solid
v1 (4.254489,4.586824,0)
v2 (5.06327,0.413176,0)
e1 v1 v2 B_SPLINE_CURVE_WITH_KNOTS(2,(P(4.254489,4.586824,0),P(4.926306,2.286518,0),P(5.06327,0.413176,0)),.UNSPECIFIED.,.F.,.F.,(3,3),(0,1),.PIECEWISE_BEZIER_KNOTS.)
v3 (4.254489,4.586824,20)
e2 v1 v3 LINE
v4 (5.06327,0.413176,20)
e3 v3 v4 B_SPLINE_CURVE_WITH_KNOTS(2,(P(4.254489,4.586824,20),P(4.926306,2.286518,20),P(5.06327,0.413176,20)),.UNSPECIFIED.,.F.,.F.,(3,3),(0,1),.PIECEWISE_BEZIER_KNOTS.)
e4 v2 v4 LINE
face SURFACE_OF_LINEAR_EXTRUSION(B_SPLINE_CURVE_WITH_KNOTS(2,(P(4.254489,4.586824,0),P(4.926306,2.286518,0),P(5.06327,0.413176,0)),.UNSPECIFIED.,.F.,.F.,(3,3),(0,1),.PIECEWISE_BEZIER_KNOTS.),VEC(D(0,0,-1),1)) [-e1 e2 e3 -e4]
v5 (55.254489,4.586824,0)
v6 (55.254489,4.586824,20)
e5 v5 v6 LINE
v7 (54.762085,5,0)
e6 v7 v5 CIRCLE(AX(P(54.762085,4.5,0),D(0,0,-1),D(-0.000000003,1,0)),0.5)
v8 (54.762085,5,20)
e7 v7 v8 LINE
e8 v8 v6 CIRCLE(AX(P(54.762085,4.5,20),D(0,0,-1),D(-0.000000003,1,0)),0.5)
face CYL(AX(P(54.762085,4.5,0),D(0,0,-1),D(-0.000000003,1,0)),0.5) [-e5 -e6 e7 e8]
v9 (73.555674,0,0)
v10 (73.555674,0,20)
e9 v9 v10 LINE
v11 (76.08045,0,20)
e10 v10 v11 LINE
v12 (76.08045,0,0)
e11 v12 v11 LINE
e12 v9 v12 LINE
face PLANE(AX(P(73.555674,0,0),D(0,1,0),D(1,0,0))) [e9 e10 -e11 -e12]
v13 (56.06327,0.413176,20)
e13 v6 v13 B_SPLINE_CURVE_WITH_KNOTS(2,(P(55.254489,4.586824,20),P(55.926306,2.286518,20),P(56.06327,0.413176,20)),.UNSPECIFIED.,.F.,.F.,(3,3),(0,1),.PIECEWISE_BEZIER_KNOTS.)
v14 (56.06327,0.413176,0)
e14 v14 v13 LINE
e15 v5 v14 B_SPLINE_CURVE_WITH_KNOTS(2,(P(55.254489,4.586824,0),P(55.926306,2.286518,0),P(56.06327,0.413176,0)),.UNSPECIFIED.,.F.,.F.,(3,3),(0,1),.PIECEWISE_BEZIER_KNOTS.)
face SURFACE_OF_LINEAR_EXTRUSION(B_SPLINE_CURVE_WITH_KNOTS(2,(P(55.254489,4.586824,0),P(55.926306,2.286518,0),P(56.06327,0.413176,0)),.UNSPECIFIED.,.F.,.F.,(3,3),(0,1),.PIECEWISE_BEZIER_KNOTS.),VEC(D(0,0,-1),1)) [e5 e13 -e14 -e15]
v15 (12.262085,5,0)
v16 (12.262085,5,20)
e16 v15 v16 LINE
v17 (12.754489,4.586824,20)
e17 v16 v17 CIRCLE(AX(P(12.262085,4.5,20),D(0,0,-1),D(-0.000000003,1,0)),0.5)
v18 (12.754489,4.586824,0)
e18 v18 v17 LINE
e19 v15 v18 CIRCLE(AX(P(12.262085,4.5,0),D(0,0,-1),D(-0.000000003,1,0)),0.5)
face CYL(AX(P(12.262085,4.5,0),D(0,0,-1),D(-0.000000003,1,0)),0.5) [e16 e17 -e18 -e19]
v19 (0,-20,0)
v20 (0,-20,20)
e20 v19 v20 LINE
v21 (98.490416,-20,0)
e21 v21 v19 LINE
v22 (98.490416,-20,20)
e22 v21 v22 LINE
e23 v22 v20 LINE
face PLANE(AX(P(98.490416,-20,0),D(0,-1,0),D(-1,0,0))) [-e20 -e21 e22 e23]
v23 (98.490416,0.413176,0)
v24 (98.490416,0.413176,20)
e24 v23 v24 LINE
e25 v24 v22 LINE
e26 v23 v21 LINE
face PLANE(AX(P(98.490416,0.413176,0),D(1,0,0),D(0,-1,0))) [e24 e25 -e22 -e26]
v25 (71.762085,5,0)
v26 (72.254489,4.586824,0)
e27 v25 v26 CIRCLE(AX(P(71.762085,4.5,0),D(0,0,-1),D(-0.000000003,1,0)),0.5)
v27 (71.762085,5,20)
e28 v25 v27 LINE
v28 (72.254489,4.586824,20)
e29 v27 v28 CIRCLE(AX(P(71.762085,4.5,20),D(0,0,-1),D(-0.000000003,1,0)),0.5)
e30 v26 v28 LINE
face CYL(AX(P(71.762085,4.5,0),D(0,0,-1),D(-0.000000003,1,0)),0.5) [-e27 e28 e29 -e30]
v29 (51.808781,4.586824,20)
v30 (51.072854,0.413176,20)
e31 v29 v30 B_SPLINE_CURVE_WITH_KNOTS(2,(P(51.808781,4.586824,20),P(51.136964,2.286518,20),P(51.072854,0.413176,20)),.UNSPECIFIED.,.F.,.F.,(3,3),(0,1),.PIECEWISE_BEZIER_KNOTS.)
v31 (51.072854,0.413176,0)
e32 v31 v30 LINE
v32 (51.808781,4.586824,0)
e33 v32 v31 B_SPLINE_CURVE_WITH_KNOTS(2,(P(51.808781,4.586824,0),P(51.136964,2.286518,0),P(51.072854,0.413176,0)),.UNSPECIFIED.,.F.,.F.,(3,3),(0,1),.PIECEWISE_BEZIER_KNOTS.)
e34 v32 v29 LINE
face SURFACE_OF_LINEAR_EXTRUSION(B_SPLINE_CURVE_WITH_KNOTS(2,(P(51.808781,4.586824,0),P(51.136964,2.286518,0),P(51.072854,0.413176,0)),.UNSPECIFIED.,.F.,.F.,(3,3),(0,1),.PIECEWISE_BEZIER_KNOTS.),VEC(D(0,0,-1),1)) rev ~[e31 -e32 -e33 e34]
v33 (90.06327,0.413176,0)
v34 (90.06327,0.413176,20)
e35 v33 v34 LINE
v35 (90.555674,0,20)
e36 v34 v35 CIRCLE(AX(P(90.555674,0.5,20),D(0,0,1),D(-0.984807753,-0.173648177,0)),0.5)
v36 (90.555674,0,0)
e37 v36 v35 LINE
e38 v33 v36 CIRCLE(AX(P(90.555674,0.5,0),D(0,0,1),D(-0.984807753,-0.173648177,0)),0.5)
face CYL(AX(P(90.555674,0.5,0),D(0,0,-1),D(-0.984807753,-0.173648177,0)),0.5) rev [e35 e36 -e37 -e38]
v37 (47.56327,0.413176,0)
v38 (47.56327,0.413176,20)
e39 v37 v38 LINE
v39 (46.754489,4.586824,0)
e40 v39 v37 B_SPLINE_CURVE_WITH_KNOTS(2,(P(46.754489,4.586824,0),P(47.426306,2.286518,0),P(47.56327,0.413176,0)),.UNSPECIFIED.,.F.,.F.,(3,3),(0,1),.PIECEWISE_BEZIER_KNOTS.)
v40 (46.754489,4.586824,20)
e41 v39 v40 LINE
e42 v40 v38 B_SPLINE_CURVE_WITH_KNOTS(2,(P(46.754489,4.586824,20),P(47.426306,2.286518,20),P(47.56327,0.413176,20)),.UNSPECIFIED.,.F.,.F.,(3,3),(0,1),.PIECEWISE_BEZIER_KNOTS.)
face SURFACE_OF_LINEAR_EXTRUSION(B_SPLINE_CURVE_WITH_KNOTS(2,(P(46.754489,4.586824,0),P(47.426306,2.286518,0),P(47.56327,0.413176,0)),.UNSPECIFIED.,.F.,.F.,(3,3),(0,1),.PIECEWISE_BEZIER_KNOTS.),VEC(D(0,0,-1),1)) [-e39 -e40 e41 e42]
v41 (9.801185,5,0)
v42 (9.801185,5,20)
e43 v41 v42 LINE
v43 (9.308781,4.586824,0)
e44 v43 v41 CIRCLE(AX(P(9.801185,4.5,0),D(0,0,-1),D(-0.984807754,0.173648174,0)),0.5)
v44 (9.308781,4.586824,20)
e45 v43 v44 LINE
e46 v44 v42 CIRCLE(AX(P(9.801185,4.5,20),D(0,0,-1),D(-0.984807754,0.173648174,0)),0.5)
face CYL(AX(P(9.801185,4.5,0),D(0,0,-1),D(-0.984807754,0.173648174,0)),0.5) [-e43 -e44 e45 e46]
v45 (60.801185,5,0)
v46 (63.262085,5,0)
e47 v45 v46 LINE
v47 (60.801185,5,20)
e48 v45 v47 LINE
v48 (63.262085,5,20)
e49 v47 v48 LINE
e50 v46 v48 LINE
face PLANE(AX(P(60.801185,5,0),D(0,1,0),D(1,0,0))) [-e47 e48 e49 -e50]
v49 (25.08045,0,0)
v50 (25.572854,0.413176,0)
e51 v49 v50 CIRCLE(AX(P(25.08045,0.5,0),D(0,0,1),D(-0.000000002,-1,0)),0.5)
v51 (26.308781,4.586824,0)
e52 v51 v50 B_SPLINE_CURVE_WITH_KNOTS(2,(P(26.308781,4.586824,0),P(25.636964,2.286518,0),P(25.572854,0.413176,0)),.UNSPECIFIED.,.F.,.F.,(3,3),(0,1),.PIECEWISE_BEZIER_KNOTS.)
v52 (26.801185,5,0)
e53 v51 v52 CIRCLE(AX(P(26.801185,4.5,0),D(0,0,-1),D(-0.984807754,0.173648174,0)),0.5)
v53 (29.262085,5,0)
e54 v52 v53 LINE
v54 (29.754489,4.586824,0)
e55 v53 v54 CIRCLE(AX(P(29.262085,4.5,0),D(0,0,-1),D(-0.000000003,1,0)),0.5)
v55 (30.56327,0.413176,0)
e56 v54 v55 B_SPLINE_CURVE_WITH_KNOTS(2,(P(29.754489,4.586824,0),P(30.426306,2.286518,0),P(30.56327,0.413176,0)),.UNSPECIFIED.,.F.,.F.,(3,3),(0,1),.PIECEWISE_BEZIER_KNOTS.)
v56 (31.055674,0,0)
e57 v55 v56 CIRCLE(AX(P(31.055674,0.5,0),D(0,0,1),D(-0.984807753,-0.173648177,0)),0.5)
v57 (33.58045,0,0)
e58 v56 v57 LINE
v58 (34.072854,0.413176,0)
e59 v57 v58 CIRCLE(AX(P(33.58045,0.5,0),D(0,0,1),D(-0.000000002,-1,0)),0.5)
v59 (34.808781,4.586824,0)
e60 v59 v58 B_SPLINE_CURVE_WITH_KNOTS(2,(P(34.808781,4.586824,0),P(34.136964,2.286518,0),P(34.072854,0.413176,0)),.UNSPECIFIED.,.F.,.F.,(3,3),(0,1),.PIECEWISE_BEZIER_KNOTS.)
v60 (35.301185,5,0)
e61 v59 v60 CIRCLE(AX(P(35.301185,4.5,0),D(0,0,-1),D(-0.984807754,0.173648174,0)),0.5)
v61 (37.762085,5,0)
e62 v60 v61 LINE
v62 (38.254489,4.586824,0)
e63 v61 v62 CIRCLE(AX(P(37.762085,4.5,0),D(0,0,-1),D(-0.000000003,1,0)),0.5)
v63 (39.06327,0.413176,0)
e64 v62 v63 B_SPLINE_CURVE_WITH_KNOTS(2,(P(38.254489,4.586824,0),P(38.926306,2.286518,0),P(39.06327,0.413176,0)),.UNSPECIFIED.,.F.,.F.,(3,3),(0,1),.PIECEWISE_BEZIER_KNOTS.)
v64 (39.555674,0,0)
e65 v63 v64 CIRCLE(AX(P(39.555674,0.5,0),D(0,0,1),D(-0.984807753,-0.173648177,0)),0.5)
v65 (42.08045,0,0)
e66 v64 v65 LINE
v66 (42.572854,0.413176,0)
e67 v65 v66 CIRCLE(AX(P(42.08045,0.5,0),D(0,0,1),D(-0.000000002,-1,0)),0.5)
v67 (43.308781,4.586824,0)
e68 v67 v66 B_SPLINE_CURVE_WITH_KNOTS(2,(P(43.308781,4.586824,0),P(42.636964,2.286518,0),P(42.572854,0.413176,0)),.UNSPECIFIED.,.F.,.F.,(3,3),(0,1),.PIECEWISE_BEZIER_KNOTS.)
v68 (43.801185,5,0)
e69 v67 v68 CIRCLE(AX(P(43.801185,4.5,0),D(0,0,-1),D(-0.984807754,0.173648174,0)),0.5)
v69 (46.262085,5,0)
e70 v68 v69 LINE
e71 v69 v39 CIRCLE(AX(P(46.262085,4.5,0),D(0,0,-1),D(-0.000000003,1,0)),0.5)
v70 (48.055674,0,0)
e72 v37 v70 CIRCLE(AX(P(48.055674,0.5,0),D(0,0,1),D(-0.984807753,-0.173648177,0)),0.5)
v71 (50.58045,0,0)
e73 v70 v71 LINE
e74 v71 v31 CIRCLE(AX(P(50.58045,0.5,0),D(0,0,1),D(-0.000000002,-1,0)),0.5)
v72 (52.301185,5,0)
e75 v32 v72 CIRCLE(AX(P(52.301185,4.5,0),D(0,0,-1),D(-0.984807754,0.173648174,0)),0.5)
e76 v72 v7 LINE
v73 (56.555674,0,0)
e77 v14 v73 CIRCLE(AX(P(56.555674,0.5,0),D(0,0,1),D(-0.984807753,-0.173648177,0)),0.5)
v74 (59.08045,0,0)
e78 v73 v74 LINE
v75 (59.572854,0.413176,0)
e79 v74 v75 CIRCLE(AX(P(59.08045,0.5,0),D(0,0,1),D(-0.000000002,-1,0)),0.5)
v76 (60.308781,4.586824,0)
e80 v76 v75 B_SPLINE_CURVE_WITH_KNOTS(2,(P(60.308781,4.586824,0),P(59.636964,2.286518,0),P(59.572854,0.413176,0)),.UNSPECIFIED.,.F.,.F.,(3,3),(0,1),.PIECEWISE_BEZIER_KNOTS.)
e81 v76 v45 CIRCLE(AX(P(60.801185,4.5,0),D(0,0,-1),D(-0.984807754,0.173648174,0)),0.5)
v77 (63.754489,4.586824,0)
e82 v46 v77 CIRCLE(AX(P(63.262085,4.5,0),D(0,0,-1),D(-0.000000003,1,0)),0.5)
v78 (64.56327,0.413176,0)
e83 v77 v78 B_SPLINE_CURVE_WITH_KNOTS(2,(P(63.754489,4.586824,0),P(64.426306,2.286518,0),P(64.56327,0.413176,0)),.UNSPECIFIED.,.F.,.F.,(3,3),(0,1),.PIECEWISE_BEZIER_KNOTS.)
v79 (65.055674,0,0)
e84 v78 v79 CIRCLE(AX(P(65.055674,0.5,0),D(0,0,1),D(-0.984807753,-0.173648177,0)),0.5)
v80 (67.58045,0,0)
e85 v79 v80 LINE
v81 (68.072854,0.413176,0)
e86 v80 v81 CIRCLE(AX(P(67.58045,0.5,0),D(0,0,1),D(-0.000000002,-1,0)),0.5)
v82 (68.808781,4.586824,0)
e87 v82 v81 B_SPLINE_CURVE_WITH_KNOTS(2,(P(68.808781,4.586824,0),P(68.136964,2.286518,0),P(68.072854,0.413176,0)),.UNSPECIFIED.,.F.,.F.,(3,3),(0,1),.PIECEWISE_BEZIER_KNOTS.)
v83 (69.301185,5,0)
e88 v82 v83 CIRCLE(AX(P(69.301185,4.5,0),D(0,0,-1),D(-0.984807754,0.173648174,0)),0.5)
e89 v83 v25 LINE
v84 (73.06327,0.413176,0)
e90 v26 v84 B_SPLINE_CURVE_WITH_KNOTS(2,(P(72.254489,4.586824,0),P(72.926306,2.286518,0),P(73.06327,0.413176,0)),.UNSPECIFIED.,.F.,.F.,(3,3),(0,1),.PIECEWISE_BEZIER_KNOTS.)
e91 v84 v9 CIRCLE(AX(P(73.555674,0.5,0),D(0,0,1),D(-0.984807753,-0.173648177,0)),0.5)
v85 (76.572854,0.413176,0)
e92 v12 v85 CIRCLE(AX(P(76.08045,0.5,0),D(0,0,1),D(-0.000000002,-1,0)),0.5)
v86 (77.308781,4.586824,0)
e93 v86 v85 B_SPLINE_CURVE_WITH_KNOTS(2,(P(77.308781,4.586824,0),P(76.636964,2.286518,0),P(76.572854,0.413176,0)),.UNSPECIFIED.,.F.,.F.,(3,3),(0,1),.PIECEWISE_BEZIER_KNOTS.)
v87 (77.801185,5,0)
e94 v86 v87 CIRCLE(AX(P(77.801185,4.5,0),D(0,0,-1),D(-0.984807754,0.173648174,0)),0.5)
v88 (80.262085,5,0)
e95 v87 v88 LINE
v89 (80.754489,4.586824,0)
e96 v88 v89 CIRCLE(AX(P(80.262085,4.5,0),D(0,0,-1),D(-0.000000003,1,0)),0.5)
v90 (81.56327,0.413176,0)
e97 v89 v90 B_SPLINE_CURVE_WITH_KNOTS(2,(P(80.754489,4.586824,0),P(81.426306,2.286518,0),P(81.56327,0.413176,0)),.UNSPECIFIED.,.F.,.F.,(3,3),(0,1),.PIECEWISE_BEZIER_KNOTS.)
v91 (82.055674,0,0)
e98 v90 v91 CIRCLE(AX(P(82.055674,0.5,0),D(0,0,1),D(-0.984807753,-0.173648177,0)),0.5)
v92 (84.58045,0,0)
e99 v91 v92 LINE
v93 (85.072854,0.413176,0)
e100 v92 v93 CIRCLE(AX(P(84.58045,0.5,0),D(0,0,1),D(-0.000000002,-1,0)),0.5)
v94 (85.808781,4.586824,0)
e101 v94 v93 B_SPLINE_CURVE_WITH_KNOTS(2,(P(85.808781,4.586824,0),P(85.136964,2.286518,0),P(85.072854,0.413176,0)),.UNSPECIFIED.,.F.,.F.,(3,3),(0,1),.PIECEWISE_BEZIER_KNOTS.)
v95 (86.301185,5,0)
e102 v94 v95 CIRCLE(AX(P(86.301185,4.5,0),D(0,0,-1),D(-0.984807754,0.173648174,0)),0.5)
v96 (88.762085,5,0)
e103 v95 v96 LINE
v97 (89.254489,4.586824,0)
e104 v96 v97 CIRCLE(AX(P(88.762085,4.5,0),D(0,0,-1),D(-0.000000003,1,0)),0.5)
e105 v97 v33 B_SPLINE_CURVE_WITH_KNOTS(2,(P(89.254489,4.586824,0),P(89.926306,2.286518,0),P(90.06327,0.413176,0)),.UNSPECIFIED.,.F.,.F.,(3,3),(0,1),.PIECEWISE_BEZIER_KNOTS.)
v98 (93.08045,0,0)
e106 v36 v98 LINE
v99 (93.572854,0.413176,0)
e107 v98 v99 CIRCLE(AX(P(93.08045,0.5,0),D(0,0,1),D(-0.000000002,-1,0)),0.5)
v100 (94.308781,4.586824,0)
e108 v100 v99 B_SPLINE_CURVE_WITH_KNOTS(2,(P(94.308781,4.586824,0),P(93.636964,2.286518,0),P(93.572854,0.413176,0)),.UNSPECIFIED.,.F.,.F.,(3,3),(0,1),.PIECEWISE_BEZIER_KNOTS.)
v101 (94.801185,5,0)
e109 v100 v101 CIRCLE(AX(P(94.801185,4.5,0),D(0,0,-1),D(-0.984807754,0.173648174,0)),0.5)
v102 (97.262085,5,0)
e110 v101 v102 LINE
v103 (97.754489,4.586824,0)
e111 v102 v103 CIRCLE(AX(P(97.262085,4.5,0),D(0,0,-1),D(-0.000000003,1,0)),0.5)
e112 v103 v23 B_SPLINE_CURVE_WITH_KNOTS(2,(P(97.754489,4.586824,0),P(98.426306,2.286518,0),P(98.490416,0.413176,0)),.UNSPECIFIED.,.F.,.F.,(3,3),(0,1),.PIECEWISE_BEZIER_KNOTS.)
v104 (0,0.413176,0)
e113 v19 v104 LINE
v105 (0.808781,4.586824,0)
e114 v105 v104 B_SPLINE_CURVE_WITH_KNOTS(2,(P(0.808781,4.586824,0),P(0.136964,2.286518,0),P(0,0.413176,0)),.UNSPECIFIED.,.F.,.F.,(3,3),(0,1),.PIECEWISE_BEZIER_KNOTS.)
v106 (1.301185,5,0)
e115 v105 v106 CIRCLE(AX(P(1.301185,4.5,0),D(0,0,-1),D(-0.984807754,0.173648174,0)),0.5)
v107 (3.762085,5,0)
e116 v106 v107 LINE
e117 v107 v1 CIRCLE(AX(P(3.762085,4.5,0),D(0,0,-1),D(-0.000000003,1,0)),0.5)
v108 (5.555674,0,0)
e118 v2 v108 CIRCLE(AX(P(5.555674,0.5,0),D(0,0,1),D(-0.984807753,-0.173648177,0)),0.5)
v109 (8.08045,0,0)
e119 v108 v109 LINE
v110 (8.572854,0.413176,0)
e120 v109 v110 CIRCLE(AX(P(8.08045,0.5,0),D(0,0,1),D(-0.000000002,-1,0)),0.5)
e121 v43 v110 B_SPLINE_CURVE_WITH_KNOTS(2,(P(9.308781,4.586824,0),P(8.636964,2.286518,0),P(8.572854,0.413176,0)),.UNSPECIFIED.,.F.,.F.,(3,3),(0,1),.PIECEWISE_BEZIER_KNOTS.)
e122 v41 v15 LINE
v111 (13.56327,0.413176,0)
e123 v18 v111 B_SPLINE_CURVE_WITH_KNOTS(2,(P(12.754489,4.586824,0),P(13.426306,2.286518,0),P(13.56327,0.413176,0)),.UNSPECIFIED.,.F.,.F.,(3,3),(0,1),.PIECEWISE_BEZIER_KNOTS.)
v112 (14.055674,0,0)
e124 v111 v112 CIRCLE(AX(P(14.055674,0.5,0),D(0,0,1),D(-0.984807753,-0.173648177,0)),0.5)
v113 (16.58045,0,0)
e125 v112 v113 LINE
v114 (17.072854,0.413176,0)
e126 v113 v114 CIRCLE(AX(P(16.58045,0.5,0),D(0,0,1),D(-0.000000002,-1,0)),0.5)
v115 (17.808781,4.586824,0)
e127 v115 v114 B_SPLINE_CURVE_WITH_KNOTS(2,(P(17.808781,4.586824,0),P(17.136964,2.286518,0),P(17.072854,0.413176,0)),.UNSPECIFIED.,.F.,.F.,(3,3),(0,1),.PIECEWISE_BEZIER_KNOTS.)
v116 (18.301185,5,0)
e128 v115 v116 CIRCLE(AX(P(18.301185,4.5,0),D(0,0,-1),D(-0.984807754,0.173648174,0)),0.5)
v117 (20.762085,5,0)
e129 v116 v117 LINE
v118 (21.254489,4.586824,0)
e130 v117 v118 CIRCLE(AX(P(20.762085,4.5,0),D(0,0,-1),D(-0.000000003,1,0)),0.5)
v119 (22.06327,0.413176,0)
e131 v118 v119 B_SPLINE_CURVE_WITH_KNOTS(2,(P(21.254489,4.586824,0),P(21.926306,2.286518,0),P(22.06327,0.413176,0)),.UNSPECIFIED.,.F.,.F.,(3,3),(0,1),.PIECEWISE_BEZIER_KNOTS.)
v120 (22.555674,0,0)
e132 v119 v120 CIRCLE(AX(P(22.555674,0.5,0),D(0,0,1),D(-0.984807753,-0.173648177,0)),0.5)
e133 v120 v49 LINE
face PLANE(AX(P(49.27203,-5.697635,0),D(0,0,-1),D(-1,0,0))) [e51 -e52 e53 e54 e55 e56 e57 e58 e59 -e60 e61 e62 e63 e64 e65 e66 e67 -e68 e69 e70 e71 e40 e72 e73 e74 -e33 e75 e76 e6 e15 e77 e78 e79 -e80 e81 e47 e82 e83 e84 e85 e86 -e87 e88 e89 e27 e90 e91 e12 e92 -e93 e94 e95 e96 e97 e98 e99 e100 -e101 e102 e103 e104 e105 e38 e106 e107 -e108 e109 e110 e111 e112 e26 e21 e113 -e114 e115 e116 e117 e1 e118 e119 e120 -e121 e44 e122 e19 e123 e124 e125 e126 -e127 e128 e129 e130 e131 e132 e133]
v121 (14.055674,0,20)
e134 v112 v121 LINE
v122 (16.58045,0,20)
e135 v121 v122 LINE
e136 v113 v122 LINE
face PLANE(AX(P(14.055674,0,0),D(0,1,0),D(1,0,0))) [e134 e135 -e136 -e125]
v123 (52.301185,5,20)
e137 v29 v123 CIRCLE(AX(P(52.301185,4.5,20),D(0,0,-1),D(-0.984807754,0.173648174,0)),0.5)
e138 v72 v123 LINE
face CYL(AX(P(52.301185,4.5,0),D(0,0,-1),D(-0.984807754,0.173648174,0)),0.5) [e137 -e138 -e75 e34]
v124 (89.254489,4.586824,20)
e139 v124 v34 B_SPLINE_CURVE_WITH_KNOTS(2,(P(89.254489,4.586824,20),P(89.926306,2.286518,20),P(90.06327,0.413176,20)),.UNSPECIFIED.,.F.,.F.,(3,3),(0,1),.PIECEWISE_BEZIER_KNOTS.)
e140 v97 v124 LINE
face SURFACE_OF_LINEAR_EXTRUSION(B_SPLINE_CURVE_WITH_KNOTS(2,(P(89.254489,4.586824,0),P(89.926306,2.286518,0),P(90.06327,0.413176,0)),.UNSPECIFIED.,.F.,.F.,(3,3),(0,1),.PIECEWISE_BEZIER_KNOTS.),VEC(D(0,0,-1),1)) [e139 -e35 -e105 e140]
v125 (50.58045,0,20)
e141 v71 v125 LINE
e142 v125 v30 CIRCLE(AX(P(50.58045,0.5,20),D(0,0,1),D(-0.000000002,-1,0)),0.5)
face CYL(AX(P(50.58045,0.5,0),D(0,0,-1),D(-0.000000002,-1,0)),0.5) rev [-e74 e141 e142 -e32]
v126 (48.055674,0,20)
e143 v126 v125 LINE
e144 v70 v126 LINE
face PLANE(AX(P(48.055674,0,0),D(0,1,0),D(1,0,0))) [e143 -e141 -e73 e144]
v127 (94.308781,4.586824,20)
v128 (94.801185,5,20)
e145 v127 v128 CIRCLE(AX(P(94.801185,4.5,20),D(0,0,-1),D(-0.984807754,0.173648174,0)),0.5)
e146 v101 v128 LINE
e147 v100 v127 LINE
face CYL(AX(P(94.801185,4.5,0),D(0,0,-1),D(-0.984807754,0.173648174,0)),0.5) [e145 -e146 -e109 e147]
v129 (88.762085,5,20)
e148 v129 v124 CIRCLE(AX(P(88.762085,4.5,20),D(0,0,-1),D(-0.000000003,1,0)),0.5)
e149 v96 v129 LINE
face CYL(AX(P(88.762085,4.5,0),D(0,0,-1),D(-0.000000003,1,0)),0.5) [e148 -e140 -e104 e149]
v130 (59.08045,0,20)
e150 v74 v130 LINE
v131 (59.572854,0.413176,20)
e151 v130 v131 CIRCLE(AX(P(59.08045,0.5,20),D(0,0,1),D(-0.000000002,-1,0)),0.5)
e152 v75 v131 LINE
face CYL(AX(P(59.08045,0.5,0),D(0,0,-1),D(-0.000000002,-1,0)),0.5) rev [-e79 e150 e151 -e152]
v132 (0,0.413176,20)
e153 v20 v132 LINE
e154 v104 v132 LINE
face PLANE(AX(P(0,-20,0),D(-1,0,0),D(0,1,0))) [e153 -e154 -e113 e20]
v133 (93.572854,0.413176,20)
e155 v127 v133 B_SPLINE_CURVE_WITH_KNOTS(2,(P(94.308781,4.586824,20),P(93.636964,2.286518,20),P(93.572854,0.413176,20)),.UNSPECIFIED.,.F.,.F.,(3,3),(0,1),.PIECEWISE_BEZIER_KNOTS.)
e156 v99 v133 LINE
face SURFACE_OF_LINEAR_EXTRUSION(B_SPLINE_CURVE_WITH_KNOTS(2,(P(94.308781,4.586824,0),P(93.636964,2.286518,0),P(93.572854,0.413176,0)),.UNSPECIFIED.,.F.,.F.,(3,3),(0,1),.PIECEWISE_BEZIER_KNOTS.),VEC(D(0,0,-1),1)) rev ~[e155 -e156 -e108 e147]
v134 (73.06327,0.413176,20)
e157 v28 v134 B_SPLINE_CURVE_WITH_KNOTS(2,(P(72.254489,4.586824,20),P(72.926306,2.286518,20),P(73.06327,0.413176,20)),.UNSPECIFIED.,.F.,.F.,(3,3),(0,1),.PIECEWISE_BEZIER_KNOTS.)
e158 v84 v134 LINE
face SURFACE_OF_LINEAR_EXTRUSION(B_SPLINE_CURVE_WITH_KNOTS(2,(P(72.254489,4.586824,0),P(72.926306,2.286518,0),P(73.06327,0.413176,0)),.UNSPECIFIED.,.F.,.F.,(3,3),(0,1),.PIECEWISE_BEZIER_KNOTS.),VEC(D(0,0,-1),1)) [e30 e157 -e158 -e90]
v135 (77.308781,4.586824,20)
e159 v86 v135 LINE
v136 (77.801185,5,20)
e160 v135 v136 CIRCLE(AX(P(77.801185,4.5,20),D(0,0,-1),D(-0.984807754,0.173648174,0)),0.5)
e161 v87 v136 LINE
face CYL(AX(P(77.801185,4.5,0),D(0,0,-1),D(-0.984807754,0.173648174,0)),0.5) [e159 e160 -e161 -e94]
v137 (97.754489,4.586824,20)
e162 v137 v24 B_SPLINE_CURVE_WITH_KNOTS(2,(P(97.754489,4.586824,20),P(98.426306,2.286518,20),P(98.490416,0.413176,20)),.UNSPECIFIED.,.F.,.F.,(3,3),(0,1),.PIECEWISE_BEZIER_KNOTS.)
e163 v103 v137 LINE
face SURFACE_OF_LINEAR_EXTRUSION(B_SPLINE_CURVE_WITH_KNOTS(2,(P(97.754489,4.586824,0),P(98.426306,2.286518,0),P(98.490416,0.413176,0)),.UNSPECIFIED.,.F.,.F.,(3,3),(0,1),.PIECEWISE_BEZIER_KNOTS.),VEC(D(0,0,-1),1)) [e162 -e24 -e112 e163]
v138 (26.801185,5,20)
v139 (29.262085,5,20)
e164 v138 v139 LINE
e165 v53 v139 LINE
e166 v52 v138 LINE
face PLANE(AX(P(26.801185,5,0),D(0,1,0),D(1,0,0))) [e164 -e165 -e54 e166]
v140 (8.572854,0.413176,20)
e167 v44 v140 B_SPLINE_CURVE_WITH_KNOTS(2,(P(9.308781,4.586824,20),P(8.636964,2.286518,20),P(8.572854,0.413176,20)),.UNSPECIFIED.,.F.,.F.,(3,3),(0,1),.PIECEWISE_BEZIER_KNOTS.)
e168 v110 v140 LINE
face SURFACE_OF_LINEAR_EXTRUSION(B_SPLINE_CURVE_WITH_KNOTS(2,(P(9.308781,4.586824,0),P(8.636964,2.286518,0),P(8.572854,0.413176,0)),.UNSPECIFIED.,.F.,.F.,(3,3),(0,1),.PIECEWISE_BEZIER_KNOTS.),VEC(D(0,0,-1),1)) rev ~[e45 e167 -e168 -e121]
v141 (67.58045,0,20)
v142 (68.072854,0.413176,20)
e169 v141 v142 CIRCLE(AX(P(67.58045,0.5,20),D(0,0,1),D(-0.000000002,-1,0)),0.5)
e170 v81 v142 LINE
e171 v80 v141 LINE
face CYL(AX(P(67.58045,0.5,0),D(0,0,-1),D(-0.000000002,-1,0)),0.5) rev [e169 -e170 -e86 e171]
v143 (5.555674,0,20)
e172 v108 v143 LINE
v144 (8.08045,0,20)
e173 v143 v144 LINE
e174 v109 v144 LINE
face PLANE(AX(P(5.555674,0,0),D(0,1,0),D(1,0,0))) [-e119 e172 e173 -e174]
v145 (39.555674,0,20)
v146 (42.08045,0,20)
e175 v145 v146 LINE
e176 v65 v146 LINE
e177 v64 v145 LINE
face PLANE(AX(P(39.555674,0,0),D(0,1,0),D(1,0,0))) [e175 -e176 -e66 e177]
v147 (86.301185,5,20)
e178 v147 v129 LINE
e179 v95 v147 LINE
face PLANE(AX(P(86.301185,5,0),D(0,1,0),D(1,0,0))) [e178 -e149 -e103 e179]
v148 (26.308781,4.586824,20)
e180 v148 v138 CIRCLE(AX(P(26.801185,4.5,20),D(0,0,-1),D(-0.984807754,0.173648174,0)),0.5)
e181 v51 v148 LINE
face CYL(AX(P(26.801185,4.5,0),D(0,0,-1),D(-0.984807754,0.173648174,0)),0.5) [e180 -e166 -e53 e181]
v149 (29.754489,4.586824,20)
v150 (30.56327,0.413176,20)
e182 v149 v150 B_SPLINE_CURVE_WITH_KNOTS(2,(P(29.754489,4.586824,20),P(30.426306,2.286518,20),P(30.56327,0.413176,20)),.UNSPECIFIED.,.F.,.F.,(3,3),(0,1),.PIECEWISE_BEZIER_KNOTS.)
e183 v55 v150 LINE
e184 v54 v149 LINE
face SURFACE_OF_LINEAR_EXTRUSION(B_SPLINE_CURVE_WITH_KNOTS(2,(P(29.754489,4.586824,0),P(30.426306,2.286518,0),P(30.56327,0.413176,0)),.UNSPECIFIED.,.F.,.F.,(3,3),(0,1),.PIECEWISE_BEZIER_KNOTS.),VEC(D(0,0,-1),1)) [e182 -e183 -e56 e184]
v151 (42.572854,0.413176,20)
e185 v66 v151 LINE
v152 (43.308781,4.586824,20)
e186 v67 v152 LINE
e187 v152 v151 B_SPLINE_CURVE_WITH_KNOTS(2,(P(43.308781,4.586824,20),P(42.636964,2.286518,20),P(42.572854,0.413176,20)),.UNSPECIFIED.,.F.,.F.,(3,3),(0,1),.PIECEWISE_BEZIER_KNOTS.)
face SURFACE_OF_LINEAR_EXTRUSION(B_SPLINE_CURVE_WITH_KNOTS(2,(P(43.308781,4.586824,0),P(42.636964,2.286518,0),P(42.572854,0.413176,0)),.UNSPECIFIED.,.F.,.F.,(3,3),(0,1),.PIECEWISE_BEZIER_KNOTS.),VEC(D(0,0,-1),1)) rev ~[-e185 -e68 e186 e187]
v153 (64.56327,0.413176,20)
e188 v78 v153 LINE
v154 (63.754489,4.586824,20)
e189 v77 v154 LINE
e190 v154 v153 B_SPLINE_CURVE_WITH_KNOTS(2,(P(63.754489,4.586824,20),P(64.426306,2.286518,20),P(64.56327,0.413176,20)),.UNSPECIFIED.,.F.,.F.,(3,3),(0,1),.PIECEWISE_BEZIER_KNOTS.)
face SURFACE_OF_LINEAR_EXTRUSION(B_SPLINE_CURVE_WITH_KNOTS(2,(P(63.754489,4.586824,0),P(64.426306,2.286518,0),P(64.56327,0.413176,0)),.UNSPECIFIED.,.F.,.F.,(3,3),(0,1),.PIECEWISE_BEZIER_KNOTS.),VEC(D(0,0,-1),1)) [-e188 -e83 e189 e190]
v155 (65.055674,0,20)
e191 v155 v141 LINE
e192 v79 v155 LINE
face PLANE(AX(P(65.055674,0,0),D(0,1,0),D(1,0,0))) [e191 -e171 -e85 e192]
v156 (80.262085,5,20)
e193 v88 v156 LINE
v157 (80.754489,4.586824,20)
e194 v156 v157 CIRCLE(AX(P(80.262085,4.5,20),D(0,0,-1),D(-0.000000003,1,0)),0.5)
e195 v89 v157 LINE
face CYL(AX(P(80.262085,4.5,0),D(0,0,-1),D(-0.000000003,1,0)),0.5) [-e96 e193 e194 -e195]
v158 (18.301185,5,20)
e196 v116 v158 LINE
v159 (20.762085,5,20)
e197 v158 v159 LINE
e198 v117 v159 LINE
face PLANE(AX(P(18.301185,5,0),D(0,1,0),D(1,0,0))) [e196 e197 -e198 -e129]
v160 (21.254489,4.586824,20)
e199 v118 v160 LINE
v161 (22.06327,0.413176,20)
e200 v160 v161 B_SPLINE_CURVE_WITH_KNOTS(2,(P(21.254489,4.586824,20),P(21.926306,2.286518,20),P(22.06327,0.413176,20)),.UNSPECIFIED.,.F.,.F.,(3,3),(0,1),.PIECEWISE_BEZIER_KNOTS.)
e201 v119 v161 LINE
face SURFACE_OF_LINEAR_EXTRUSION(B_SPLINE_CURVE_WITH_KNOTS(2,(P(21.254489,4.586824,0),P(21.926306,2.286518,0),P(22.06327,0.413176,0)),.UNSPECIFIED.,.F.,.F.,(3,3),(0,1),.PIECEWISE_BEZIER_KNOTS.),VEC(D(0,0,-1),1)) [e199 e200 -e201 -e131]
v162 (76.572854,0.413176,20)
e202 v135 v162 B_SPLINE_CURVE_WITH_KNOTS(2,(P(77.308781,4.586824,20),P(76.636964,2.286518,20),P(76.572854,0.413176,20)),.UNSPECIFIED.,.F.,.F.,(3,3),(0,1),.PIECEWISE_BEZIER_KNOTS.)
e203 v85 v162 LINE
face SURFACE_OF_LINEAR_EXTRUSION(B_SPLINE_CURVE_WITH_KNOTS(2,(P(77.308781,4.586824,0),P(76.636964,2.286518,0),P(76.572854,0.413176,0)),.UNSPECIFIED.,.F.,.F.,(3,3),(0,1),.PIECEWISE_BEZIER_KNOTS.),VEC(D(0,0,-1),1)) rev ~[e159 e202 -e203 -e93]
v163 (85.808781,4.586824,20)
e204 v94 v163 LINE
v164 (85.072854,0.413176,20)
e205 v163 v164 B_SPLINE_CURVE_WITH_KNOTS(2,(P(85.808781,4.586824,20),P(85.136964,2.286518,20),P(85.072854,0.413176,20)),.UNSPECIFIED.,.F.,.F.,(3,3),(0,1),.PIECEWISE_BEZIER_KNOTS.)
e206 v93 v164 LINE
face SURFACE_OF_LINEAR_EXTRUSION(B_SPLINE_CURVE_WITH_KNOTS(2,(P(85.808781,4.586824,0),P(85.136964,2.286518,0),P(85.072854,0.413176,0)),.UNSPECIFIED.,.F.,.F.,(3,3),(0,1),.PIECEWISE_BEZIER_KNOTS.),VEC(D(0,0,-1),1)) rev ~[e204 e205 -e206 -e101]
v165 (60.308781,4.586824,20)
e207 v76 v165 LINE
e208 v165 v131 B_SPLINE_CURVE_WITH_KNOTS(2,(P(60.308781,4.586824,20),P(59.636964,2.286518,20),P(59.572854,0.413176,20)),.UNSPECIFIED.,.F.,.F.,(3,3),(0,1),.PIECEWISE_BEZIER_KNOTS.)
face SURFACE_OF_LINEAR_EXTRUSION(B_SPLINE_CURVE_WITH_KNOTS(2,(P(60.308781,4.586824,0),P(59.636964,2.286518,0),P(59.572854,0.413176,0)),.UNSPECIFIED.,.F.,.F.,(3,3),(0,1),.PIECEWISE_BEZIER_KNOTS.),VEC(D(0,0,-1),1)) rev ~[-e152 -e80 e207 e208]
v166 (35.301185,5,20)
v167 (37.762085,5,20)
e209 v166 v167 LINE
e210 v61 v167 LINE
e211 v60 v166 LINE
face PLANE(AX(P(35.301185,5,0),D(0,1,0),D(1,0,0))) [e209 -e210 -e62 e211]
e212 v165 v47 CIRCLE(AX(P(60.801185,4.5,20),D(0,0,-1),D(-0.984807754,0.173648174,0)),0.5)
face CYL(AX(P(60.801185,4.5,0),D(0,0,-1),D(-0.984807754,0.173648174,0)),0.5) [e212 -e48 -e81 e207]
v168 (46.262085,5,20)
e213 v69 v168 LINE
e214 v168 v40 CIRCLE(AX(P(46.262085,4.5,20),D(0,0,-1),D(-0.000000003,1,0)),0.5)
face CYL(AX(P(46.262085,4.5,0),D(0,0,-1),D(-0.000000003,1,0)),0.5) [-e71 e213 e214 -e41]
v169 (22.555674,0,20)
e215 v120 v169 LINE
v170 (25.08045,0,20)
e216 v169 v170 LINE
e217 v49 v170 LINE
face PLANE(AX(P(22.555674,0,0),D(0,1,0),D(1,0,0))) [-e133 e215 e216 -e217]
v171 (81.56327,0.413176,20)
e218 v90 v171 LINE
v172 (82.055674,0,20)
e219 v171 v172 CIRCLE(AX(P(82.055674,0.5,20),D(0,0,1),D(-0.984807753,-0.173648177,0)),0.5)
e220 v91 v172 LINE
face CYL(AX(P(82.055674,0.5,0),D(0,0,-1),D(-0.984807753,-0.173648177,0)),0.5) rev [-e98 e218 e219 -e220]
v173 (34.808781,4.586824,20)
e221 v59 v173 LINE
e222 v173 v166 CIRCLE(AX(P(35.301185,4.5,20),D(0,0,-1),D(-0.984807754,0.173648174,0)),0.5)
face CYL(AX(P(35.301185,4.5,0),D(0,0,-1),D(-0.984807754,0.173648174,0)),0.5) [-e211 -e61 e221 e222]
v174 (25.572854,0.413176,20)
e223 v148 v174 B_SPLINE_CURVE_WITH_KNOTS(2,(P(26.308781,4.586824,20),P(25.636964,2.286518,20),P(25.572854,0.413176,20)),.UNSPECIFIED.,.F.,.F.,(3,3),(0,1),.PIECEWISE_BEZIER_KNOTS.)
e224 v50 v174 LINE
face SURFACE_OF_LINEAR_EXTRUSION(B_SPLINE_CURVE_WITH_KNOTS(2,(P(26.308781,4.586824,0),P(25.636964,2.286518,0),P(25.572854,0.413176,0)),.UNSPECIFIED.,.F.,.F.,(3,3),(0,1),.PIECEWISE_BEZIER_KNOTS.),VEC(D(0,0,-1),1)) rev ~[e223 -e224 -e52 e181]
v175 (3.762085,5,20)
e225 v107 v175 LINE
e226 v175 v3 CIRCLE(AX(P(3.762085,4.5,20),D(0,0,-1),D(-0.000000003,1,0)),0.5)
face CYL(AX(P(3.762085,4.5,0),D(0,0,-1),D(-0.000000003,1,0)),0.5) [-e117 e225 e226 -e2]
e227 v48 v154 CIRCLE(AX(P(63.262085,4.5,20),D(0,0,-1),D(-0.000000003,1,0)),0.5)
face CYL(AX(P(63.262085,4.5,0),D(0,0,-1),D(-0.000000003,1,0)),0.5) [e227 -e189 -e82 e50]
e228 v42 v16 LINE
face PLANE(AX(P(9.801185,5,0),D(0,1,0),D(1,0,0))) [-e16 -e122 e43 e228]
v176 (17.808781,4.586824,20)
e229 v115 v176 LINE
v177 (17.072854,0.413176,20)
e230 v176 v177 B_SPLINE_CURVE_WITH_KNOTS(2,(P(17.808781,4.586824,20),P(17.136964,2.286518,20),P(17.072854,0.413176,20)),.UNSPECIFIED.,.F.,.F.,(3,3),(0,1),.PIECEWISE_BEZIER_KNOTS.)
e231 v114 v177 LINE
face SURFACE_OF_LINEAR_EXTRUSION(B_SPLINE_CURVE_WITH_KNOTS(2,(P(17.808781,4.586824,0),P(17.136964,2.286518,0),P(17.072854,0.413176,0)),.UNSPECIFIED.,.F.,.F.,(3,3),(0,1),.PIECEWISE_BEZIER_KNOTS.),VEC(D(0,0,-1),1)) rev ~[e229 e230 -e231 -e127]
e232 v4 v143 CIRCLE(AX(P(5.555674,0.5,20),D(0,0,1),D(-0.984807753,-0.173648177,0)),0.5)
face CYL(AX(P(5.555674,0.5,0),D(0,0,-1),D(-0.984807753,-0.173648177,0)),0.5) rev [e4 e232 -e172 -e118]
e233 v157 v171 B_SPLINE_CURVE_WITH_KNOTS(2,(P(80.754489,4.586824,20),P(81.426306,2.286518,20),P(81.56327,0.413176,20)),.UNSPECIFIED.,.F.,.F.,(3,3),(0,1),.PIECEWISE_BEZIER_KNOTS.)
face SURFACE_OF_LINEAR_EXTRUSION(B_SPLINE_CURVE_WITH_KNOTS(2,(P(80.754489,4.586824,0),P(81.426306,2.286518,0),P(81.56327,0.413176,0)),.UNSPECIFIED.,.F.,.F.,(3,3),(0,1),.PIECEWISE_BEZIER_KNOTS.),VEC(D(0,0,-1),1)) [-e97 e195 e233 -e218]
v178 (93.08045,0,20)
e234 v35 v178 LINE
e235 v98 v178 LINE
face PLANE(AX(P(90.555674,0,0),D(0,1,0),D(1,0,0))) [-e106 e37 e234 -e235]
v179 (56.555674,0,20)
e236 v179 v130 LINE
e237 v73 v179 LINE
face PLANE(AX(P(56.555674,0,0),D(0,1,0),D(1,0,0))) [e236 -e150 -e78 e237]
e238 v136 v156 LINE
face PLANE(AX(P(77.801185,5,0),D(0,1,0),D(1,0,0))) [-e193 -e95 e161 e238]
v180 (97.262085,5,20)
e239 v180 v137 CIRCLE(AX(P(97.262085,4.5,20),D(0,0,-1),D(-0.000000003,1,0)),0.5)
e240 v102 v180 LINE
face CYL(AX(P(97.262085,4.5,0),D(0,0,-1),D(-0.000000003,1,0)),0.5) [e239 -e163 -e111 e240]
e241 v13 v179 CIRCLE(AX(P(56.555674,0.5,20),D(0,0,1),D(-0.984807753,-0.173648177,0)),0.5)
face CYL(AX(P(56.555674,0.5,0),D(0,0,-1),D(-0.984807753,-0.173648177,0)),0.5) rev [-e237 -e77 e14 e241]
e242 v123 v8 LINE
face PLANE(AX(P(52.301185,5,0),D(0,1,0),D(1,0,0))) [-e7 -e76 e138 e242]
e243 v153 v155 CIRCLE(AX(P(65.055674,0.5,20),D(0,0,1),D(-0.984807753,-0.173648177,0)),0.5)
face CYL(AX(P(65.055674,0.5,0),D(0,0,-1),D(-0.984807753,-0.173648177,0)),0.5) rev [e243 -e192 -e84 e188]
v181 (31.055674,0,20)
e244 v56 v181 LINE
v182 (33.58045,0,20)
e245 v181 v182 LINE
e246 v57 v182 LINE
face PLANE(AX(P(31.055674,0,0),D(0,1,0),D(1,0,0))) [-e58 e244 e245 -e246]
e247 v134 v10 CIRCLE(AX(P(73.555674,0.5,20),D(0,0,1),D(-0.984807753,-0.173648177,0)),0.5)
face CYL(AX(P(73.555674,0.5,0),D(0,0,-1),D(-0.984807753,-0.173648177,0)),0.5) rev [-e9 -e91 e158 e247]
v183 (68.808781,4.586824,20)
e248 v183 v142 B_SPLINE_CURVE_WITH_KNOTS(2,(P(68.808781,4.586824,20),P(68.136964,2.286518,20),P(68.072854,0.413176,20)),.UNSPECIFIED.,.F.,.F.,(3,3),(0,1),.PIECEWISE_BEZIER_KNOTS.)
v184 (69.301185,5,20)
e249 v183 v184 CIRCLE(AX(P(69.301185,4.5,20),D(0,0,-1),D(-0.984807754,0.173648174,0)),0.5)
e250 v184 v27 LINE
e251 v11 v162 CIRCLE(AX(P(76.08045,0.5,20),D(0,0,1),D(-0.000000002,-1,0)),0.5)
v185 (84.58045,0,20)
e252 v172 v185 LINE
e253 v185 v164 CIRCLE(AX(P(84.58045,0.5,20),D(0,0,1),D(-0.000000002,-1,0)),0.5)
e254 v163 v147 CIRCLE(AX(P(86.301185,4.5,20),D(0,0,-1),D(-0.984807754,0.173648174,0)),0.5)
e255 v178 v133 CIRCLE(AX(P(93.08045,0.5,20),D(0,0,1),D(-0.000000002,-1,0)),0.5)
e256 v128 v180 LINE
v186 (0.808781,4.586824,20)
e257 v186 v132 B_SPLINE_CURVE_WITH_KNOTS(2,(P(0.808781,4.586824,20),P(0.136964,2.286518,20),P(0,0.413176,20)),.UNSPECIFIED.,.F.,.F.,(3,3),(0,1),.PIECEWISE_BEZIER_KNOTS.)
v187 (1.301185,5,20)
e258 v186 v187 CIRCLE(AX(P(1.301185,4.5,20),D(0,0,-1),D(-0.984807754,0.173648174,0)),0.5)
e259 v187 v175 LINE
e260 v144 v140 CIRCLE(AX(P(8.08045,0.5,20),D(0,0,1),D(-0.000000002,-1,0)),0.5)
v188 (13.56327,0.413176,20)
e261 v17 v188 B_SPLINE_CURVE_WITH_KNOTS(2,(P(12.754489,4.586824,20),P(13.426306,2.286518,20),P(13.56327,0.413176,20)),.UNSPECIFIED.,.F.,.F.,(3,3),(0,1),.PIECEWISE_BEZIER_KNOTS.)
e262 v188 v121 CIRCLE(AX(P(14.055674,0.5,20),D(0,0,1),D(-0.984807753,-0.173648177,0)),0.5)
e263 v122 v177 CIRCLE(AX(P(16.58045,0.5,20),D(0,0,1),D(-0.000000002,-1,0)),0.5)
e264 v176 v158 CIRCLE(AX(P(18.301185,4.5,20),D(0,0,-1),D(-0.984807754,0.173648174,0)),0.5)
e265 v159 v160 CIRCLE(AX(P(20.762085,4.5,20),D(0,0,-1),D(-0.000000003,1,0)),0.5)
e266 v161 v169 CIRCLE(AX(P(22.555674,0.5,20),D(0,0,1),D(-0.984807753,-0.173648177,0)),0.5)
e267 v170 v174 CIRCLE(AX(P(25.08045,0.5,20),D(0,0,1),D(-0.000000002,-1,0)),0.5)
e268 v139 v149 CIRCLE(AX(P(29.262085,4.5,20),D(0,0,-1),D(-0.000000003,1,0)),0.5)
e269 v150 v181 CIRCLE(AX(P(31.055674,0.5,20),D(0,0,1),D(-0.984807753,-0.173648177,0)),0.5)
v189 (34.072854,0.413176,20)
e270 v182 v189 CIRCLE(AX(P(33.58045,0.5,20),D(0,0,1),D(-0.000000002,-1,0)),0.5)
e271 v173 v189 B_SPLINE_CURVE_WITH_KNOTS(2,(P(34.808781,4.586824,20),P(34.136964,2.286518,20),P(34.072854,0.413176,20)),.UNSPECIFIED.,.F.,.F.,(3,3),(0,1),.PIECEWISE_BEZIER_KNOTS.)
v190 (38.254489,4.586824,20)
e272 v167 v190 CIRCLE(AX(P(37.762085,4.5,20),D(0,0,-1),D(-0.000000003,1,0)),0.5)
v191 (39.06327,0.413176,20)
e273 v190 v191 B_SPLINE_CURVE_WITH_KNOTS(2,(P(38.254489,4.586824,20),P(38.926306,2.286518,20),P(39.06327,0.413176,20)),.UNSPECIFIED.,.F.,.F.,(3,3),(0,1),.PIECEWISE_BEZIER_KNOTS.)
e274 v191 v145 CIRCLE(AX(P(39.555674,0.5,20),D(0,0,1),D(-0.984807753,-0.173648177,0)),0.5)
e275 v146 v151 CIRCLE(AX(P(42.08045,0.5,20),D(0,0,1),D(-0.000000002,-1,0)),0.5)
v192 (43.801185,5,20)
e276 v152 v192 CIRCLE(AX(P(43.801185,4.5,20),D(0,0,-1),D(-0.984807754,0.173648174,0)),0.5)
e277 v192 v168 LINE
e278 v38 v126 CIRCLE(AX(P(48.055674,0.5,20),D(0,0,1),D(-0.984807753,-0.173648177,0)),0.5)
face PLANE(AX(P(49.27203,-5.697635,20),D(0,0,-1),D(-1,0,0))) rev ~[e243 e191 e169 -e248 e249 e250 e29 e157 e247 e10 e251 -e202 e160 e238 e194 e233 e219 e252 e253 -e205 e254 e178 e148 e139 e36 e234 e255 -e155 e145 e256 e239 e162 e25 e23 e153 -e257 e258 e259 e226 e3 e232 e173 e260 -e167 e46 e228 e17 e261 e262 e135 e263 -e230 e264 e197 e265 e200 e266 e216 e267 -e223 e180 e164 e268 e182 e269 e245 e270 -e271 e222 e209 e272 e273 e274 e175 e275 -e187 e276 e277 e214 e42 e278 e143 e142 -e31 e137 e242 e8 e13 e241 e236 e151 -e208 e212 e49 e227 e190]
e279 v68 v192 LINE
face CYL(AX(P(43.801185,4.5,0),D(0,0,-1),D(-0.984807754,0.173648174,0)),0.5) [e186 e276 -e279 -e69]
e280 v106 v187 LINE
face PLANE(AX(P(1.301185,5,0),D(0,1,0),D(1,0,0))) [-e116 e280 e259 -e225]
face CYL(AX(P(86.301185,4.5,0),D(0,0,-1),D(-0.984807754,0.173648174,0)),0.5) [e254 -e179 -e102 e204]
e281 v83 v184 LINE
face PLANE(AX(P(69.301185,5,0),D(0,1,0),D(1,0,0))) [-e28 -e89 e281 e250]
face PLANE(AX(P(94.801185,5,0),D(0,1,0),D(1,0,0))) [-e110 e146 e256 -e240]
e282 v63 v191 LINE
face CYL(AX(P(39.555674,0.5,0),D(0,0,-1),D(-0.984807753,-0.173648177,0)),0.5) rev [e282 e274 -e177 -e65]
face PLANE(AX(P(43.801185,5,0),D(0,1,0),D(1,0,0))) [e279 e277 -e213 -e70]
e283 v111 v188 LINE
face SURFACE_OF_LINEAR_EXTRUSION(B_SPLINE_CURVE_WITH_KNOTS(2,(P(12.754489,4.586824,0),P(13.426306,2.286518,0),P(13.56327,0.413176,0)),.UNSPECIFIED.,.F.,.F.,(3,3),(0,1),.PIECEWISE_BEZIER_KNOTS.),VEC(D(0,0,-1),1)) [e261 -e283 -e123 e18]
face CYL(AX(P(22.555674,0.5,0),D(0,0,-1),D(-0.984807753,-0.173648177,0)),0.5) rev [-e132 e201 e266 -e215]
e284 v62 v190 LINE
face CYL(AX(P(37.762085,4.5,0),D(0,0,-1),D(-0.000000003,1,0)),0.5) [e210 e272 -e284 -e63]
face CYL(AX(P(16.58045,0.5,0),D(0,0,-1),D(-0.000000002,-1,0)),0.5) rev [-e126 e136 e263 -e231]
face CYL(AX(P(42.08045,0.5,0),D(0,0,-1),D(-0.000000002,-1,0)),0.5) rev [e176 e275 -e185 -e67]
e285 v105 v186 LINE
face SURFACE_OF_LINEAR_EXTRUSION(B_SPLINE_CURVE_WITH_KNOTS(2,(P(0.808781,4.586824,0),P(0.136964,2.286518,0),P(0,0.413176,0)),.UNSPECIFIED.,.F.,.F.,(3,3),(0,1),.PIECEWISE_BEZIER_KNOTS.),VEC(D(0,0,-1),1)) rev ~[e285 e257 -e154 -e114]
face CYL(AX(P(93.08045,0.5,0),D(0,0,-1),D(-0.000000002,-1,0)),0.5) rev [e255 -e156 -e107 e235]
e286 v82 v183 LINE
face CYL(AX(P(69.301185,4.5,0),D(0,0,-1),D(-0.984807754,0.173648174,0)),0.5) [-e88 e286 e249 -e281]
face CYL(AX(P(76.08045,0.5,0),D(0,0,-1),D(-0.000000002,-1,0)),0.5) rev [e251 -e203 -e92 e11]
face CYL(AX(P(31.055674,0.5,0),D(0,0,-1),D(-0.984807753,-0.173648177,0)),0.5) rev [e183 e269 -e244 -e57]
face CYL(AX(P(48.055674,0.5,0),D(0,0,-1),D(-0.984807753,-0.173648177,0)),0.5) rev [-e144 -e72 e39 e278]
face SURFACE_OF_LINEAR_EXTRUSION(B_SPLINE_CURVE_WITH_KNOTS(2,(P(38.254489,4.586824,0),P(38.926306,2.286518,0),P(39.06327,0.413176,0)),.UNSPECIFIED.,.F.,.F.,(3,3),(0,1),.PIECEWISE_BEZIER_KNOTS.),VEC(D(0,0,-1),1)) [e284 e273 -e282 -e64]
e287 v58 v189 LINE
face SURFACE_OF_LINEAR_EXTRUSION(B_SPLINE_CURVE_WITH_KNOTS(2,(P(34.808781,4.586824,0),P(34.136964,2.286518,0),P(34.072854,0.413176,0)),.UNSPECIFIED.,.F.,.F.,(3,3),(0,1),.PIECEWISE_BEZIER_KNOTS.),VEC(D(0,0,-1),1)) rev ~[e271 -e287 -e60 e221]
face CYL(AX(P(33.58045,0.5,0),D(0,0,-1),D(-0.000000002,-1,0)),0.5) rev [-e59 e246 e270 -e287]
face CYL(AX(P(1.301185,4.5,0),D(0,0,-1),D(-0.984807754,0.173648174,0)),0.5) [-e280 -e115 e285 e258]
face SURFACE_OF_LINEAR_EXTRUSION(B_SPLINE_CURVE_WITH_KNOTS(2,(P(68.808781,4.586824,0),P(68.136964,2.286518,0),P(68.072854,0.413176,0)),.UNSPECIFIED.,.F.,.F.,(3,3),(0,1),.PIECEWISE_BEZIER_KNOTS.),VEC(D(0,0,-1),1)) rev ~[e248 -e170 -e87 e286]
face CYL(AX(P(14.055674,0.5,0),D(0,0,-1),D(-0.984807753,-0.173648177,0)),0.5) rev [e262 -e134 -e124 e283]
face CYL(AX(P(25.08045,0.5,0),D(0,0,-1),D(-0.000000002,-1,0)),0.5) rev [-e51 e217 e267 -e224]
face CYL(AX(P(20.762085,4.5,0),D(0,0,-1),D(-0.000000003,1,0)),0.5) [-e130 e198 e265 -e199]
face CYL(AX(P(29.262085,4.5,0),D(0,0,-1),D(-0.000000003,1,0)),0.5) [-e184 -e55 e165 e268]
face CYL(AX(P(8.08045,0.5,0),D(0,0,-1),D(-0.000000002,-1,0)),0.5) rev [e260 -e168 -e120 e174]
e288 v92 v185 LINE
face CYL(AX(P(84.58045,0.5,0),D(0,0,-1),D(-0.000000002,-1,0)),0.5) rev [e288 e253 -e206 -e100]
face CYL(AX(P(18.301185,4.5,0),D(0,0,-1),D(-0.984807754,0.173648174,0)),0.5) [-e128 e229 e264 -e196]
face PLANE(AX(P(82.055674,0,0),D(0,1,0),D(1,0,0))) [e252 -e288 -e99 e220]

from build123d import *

# Parameters (mm, degrees)
BOSS_EXTRUDE1_DEPTH = 20


with BuildPart() as part:
    # Sketch2 → Boss-Extrude1 (new body)
    with BuildSketch(Plane.XY):
        with BuildLine():
            Line((5.555673684, 0), (8.080450184, 0))
            ThreePointArc((8.080450184, 0), (8.401843989, 0.116977778), (8.572854061, 0.413175911))
            add(Edge.make_bspline(
                [(9.308780843, 4.586824089), (8.63696399, 2.286518146), (8.572854061, 0.413175911)],
                knots=[0, 0, 0, 1, 1, 1], degree=2))
            ThreePointArc((9.308780843, 4.586824089), (9.479790914, 4.883022222), (9.801184719, 5))
            Line((9.801184719, 5), (12.262085088, 5))
            ThreePointArc((12.262085088, 5), (12.583478893, 4.883022222), (12.754488964, 4.586824089))
            add(Edge.make_bspline(
                [(12.754488964, 4.586824089), (13.426305818, 2.286518146), (13.563269807, 0.413175911)],
                knots=[0, 0, 0, 1, 1, 1], degree=2))
            ThreePointArc((13.563269807, 0.413175911), (13.734279879, 0.116977778), (14.055673684, 0))
            Line((14.055673684, 0), (16.580450184, 0))
            ThreePointArc((16.580450184, 0), (16.901843989, 0.116977778), (17.072854061, 0.413175911))
            add(Edge.make_bspline(
                [(17.808780843, 4.586824089), (17.13696399, 2.286518146), (17.072854061, 0.413175911)],
                knots=[0, 0, 0, 1, 1, 1], degree=2))
            ThreePointArc((17.808780843, 4.586824089), (17.979790914, 4.883022222), (18.301184719, 5))
            Line((18.301184719, 5), (20.762085088, 5))
            ThreePointArc((20.762085088, 5), (21.083478893, 4.883022222), (21.254488964, 4.586824089))
            add(Edge.make_bspline(
                [(21.254488964, 4.586824089), (21.926305818, 2.286518146), (22.063269807, 0.413175911)],
                knots=[0, 0, 0, 1, 1, 1], degree=2))
            ThreePointArc((22.063269807, 0.413175911), (22.234279879, 0.116977778), (22.555673684, 0))
            Line((22.555673684, 0), (25.080450184, 0))
            ThreePointArc((25.080450184, 0), (25.401843989, 0.116977778), (25.572854061, 0.413175911))
            add(Edge.make_bspline(
                [(26.308780843, 4.586824089), (25.63696399, 2.286518146), (25.572854061, 0.413175911)],
                knots=[0, 0, 0, 1, 1, 1], degree=2))
            ThreePointArc((26.308780843, 4.586824089), (26.479790914, 4.883022222), (26.801184719, 5))
            Line((26.801184719, 5), (29.262085088, 5))
            ThreePointArc((29.262085088, 5), (29.583478893, 4.883022222), (29.754488964, 4.586824089))
            add(Edge.make_bspline(
                [(29.754488964, 4.586824089), (30.426305818, 2.286518146), (30.563269807, 0.413175911)],
                knots=[0, 0, 0, 1, 1, 1], degree=2))
            ThreePointArc((30.563269807, 0.413175911), (30.734279879, 0.116977778), (31.055673684, 0))
            Line((31.055673684, 0), (33.580450184, 0))
            ThreePointArc((33.580450184, 0), (33.901843989, 0.116977778), (34.072854061, 0.413175911))
            add(Edge.make_bspline(
                [(34.808780843, 4.586824089), (34.13696399, 2.286518146), (34.072854061, 0.413175911)],
                knots=[0, 0, 0, 1, 1, 1], degree=2))
            ThreePointArc((34.808780843, 4.586824089), (34.979790914, 4.883022222), (35.301184719, 5))
            Line((35.301184719, 5), (37.762085088, 5))
            ThreePointArc((37.762085088, 5), (38.083478893, 4.883022222), (38.254488964, 4.586824089))
            add(Edge.make_bspline(
                [(38.254488964, 4.586824089), (38.926305818, 2.286518146), (39.063269807, 0.413175911)],
                knots=[0, 0, 0, 1, 1, 1], degree=2))
            ThreePointArc((39.063269807, 0.413175911), (39.234279879, 0.116977778), (39.555673684, 0))
            Line((39.555673684, 0), (42.080450184, 0))
            ThreePointArc((42.080450184, 0), (42.401843989, 0.116977778), (42.572854061, 0.413175911))
            add(Edge.make_bspline(
                [(43.308780843, 4.586824089), (42.63696399, 2.286518146), (42.572854061, 0.413175911)],
                knots=[0, 0, 0, 1, 1, 1], degree=2))
            ThreePointArc((43.308780843, 4.586824089), (43.479790914, 4.883022222), (43.801184719, 5))
            Line((43.801184719, 5), (46.262085088, 5))
            ThreePointArc((46.262085088, 5), (46.583478893, 4.883022222), (46.754488964, 4.586824089))
            add(Edge.make_bspline(
                [(46.754488964, 4.586824089), (47.426305818, 2.286518146), (47.563269807, 0.413175911)],
                knots=[0, 0, 0, 1, 1, 1], degree=2))
            ThreePointArc((47.563269807, 0.413175911), (47.734279879, 0.116977778), (48.055673684, 0))
            Line((48.055673684, 0), (50.580450184, 0))
            ThreePointArc((50.580450184, 0), (50.901843989, 0.116977778), (51.072854061, 0.413175911))
            add(Edge.make_bspline(
                [(51.808780843, 4.586824089), (51.13696399, 2.286518146), (51.072854061, 0.413175911)],
                knots=[0, 0, 0, 1, 1, 1], degree=2))
            ThreePointArc((51.808780843, 4.586824089), (51.979790914, 4.883022222), (52.301184719, 5))
            Line((52.301184719, 5), (54.762085088, 5))
            ThreePointArc((54.762085088, 5), (55.083478893, 4.883022222), (55.254488964, 4.586824089))
            add(Edge.make_bspline(
                [(55.254488964, 4.586824089), (55.926305818, 2.286518146), (56.063269807, 0.413175911)],
                knots=[0, 0, 0, 1, 1, 1], degree=2))
            ThreePointArc((56.063269807, 0.413175911), (56.234279879, 0.116977778), (56.555673684, 0))
            Line((56.555673684, 0), (59.080450184, 0))
            ThreePointArc((59.080450184, 0), (59.401843989, 0.116977778), (59.572854061, 0.413175911))
            add(Edge.make_bspline(
                [(60.308780843, 4.586824089), (59.63696399, 2.286518146), (59.572854061, 0.413175911)],
                knots=[0, 0, 0, 1, 1, 1], degree=2))
            ThreePointArc((60.308780843, 4.586824089), (60.479790914, 4.883022222), (60.801184719, 5))
            Line((60.801184719, 5), (63.262085088, 5))
            ThreePointArc((63.262085088, 5), (63.583478893, 4.883022222), (63.754488964, 4.586824089))
            add(Edge.make_bspline(
                [(63.754488964, 4.586824089), (64.426305818, 2.286518146), (64.563269807, 0.413175911)],
                knots=[0, 0, 0, 1, 1, 1], degree=2))
            ThreePointArc((64.563269807, 0.413175911), (64.734279879, 0.116977778), (65.055673684, 0))
            Line((65.055673684, 0), (67.580450184, 0))
            ThreePointArc((67.580450184, 0), (67.901843989, 0.116977778), (68.072854061, 0.413175911))
            add(Edge.make_bspline(
                [(68.808780843, 4.586824089), (68.13696399, 2.286518146), (68.072854061, 0.413175911)],
                knots=[0, 0, 0, 1, 1, 1], degree=2))
            ThreePointArc((68.808780843, 4.586824089), (68.979790914, 4.883022222), (69.301184719, 5))
            Line((69.301184719, 5), (71.762085088, 5))
            ThreePointArc((71.762085088, 5), (72.083478893, 4.883022222), (72.254488964, 4.586824089))
            add(Edge.make_bspline(
                [(72.254488964, 4.586824089), (72.926305818, 2.286518146), (73.063269807, 0.413175911)],
                knots=[0, 0, 0, 1, 1, 1], degree=2))
            ThreePointArc((73.063269807, 0.413175911), (73.234279879, 0.116977778), (73.555673684, 0))
            Line((73.555673684, 0), (76.080450184, 0))
            ThreePointArc((76.080450184, 0), (76.401843989, 0.116977778), (76.572854061, 0.413175911))
            add(Edge.make_bspline(
                [(77.308780843, 4.586824089), (76.63696399, 2.286518146), (76.572854061, 0.413175911)],
                knots=[0, 0, 0, 1, 1, 1], degree=2))
            ThreePointArc((77.308780843, 4.586824089), (77.479790914, 4.883022222), (77.801184719, 5))
            Line((77.801184719, 5), (80.262085088, 5))
            ThreePointArc((80.262085088, 5), (80.583478893, 4.883022222), (80.754488964, 4.586824089))
            add(Edge.make_bspline(
                [(80.754488964, 4.586824089), (81.426305818, 2.286518146), (81.563269807, 0.413175911)],
                knots=[0, 0, 0, 1, 1, 1], degree=2))
            ThreePointArc((81.563269807, 0.413175911), (81.734279879, 0.116977778), (82.055673684, 0))
            Line((82.055673684, 0), (84.580450184, 0))
            ThreePointArc((84.580450184, 0), (84.901843989, 0.116977778), (85.072854061, 0.413175911))
            add(Edge.make_bspline(
                [(85.808780843, 4.586824089), (85.13696399, 2.286518146), (85.072854061, 0.413175911)],
                knots=[0, 0, 0, 1, 1, 1], degree=2))
            ThreePointArc((85.808780843, 4.586824089), (85.979790914, 4.883022222), (86.301184719, 5))
            Line((86.301184719, 5), (88.762085088, 5))
            ThreePointArc((88.762085088, 5), (89.083478893, 4.883022222), (89.254488964, 4.586824089))
            add(Edge.make_bspline(
                [(89.254488964, 4.586824089), (89.926305818, 2.286518146), (90.063269807, 0.413175911)],
                knots=[0, 0, 0, 1, 1, 1], degree=2))
            ThreePointArc((90.063269807, 0.413175911), (90.234279879, 0.116977778), (90.555673684, 0))
            Line((90.555673684, 0), (93.080450184, 0))
            ThreePointArc((93.080450184, 0), (93.401843989, 0.116977778), (93.572854061, 0.413175911))
            add(Edge.make_bspline(
                [(94.308780843, 4.586824089), (93.63696399, 2.286518146), (93.572854061, 0.413175911)],
                knots=[0, 0, 0, 1, 1, 1], degree=2))
            ThreePointArc((94.308780843, 4.586824089), (94.479790914, 4.883022222), (94.801184719, 5))
            Line((94.801184719, 5), (97.262085088, 5))
            ThreePointArc((97.262085088, 5), (97.583478893, 4.883022222), (97.754488964, 4.586824089))
            add(Edge.make_bspline(
                [(97.754488964, 4.586824089), (98.426305818, 2.286518146), (98.490415746, 0.413175911)],
                knots=[0, 0, 0, 1, 1, 1], degree=2))
            Line((98.490415746, 0.413175911), (98.490415746, -20))
            Line((98.490415746, -20), (0, -20))
            Line((0, -20), (0, 0))
            Line((0, 0), (0, 0.413175911))
            add(Edge.make_bspline(
                [(0.808780843, 4.586824089), (0.13696399, 2.286518146), (0, 0.413175911)],
                knots=[0, 0, 0, 1, 1, 1], degree=2))
            ThreePointArc((0.808780843, 4.586824089), (0.979790914, 4.883022222), (1.301184719, 5))
            Line((1.301184719, 5), (3.762085088, 5))
            ThreePointArc((3.762085088, 5), (4.083478893, 4.883022222), (4.254488964, 4.586824089))
            add(Edge.make_bspline(
                [(4.254488964, 4.586824089), (4.926305818, 2.286518146), (5.063269807, 0.413175911)],
                knots=[0, 0, 0, 1, 1, 1], degree=2))
            ThreePointArc((5.063269807, 0.413175911), (5.234279879, 0.116977778), (5.555673684, 0))
        make_face()
    extrude(amount=BOSS_EXTRUDE1_DEPTH)


solid = part.part
